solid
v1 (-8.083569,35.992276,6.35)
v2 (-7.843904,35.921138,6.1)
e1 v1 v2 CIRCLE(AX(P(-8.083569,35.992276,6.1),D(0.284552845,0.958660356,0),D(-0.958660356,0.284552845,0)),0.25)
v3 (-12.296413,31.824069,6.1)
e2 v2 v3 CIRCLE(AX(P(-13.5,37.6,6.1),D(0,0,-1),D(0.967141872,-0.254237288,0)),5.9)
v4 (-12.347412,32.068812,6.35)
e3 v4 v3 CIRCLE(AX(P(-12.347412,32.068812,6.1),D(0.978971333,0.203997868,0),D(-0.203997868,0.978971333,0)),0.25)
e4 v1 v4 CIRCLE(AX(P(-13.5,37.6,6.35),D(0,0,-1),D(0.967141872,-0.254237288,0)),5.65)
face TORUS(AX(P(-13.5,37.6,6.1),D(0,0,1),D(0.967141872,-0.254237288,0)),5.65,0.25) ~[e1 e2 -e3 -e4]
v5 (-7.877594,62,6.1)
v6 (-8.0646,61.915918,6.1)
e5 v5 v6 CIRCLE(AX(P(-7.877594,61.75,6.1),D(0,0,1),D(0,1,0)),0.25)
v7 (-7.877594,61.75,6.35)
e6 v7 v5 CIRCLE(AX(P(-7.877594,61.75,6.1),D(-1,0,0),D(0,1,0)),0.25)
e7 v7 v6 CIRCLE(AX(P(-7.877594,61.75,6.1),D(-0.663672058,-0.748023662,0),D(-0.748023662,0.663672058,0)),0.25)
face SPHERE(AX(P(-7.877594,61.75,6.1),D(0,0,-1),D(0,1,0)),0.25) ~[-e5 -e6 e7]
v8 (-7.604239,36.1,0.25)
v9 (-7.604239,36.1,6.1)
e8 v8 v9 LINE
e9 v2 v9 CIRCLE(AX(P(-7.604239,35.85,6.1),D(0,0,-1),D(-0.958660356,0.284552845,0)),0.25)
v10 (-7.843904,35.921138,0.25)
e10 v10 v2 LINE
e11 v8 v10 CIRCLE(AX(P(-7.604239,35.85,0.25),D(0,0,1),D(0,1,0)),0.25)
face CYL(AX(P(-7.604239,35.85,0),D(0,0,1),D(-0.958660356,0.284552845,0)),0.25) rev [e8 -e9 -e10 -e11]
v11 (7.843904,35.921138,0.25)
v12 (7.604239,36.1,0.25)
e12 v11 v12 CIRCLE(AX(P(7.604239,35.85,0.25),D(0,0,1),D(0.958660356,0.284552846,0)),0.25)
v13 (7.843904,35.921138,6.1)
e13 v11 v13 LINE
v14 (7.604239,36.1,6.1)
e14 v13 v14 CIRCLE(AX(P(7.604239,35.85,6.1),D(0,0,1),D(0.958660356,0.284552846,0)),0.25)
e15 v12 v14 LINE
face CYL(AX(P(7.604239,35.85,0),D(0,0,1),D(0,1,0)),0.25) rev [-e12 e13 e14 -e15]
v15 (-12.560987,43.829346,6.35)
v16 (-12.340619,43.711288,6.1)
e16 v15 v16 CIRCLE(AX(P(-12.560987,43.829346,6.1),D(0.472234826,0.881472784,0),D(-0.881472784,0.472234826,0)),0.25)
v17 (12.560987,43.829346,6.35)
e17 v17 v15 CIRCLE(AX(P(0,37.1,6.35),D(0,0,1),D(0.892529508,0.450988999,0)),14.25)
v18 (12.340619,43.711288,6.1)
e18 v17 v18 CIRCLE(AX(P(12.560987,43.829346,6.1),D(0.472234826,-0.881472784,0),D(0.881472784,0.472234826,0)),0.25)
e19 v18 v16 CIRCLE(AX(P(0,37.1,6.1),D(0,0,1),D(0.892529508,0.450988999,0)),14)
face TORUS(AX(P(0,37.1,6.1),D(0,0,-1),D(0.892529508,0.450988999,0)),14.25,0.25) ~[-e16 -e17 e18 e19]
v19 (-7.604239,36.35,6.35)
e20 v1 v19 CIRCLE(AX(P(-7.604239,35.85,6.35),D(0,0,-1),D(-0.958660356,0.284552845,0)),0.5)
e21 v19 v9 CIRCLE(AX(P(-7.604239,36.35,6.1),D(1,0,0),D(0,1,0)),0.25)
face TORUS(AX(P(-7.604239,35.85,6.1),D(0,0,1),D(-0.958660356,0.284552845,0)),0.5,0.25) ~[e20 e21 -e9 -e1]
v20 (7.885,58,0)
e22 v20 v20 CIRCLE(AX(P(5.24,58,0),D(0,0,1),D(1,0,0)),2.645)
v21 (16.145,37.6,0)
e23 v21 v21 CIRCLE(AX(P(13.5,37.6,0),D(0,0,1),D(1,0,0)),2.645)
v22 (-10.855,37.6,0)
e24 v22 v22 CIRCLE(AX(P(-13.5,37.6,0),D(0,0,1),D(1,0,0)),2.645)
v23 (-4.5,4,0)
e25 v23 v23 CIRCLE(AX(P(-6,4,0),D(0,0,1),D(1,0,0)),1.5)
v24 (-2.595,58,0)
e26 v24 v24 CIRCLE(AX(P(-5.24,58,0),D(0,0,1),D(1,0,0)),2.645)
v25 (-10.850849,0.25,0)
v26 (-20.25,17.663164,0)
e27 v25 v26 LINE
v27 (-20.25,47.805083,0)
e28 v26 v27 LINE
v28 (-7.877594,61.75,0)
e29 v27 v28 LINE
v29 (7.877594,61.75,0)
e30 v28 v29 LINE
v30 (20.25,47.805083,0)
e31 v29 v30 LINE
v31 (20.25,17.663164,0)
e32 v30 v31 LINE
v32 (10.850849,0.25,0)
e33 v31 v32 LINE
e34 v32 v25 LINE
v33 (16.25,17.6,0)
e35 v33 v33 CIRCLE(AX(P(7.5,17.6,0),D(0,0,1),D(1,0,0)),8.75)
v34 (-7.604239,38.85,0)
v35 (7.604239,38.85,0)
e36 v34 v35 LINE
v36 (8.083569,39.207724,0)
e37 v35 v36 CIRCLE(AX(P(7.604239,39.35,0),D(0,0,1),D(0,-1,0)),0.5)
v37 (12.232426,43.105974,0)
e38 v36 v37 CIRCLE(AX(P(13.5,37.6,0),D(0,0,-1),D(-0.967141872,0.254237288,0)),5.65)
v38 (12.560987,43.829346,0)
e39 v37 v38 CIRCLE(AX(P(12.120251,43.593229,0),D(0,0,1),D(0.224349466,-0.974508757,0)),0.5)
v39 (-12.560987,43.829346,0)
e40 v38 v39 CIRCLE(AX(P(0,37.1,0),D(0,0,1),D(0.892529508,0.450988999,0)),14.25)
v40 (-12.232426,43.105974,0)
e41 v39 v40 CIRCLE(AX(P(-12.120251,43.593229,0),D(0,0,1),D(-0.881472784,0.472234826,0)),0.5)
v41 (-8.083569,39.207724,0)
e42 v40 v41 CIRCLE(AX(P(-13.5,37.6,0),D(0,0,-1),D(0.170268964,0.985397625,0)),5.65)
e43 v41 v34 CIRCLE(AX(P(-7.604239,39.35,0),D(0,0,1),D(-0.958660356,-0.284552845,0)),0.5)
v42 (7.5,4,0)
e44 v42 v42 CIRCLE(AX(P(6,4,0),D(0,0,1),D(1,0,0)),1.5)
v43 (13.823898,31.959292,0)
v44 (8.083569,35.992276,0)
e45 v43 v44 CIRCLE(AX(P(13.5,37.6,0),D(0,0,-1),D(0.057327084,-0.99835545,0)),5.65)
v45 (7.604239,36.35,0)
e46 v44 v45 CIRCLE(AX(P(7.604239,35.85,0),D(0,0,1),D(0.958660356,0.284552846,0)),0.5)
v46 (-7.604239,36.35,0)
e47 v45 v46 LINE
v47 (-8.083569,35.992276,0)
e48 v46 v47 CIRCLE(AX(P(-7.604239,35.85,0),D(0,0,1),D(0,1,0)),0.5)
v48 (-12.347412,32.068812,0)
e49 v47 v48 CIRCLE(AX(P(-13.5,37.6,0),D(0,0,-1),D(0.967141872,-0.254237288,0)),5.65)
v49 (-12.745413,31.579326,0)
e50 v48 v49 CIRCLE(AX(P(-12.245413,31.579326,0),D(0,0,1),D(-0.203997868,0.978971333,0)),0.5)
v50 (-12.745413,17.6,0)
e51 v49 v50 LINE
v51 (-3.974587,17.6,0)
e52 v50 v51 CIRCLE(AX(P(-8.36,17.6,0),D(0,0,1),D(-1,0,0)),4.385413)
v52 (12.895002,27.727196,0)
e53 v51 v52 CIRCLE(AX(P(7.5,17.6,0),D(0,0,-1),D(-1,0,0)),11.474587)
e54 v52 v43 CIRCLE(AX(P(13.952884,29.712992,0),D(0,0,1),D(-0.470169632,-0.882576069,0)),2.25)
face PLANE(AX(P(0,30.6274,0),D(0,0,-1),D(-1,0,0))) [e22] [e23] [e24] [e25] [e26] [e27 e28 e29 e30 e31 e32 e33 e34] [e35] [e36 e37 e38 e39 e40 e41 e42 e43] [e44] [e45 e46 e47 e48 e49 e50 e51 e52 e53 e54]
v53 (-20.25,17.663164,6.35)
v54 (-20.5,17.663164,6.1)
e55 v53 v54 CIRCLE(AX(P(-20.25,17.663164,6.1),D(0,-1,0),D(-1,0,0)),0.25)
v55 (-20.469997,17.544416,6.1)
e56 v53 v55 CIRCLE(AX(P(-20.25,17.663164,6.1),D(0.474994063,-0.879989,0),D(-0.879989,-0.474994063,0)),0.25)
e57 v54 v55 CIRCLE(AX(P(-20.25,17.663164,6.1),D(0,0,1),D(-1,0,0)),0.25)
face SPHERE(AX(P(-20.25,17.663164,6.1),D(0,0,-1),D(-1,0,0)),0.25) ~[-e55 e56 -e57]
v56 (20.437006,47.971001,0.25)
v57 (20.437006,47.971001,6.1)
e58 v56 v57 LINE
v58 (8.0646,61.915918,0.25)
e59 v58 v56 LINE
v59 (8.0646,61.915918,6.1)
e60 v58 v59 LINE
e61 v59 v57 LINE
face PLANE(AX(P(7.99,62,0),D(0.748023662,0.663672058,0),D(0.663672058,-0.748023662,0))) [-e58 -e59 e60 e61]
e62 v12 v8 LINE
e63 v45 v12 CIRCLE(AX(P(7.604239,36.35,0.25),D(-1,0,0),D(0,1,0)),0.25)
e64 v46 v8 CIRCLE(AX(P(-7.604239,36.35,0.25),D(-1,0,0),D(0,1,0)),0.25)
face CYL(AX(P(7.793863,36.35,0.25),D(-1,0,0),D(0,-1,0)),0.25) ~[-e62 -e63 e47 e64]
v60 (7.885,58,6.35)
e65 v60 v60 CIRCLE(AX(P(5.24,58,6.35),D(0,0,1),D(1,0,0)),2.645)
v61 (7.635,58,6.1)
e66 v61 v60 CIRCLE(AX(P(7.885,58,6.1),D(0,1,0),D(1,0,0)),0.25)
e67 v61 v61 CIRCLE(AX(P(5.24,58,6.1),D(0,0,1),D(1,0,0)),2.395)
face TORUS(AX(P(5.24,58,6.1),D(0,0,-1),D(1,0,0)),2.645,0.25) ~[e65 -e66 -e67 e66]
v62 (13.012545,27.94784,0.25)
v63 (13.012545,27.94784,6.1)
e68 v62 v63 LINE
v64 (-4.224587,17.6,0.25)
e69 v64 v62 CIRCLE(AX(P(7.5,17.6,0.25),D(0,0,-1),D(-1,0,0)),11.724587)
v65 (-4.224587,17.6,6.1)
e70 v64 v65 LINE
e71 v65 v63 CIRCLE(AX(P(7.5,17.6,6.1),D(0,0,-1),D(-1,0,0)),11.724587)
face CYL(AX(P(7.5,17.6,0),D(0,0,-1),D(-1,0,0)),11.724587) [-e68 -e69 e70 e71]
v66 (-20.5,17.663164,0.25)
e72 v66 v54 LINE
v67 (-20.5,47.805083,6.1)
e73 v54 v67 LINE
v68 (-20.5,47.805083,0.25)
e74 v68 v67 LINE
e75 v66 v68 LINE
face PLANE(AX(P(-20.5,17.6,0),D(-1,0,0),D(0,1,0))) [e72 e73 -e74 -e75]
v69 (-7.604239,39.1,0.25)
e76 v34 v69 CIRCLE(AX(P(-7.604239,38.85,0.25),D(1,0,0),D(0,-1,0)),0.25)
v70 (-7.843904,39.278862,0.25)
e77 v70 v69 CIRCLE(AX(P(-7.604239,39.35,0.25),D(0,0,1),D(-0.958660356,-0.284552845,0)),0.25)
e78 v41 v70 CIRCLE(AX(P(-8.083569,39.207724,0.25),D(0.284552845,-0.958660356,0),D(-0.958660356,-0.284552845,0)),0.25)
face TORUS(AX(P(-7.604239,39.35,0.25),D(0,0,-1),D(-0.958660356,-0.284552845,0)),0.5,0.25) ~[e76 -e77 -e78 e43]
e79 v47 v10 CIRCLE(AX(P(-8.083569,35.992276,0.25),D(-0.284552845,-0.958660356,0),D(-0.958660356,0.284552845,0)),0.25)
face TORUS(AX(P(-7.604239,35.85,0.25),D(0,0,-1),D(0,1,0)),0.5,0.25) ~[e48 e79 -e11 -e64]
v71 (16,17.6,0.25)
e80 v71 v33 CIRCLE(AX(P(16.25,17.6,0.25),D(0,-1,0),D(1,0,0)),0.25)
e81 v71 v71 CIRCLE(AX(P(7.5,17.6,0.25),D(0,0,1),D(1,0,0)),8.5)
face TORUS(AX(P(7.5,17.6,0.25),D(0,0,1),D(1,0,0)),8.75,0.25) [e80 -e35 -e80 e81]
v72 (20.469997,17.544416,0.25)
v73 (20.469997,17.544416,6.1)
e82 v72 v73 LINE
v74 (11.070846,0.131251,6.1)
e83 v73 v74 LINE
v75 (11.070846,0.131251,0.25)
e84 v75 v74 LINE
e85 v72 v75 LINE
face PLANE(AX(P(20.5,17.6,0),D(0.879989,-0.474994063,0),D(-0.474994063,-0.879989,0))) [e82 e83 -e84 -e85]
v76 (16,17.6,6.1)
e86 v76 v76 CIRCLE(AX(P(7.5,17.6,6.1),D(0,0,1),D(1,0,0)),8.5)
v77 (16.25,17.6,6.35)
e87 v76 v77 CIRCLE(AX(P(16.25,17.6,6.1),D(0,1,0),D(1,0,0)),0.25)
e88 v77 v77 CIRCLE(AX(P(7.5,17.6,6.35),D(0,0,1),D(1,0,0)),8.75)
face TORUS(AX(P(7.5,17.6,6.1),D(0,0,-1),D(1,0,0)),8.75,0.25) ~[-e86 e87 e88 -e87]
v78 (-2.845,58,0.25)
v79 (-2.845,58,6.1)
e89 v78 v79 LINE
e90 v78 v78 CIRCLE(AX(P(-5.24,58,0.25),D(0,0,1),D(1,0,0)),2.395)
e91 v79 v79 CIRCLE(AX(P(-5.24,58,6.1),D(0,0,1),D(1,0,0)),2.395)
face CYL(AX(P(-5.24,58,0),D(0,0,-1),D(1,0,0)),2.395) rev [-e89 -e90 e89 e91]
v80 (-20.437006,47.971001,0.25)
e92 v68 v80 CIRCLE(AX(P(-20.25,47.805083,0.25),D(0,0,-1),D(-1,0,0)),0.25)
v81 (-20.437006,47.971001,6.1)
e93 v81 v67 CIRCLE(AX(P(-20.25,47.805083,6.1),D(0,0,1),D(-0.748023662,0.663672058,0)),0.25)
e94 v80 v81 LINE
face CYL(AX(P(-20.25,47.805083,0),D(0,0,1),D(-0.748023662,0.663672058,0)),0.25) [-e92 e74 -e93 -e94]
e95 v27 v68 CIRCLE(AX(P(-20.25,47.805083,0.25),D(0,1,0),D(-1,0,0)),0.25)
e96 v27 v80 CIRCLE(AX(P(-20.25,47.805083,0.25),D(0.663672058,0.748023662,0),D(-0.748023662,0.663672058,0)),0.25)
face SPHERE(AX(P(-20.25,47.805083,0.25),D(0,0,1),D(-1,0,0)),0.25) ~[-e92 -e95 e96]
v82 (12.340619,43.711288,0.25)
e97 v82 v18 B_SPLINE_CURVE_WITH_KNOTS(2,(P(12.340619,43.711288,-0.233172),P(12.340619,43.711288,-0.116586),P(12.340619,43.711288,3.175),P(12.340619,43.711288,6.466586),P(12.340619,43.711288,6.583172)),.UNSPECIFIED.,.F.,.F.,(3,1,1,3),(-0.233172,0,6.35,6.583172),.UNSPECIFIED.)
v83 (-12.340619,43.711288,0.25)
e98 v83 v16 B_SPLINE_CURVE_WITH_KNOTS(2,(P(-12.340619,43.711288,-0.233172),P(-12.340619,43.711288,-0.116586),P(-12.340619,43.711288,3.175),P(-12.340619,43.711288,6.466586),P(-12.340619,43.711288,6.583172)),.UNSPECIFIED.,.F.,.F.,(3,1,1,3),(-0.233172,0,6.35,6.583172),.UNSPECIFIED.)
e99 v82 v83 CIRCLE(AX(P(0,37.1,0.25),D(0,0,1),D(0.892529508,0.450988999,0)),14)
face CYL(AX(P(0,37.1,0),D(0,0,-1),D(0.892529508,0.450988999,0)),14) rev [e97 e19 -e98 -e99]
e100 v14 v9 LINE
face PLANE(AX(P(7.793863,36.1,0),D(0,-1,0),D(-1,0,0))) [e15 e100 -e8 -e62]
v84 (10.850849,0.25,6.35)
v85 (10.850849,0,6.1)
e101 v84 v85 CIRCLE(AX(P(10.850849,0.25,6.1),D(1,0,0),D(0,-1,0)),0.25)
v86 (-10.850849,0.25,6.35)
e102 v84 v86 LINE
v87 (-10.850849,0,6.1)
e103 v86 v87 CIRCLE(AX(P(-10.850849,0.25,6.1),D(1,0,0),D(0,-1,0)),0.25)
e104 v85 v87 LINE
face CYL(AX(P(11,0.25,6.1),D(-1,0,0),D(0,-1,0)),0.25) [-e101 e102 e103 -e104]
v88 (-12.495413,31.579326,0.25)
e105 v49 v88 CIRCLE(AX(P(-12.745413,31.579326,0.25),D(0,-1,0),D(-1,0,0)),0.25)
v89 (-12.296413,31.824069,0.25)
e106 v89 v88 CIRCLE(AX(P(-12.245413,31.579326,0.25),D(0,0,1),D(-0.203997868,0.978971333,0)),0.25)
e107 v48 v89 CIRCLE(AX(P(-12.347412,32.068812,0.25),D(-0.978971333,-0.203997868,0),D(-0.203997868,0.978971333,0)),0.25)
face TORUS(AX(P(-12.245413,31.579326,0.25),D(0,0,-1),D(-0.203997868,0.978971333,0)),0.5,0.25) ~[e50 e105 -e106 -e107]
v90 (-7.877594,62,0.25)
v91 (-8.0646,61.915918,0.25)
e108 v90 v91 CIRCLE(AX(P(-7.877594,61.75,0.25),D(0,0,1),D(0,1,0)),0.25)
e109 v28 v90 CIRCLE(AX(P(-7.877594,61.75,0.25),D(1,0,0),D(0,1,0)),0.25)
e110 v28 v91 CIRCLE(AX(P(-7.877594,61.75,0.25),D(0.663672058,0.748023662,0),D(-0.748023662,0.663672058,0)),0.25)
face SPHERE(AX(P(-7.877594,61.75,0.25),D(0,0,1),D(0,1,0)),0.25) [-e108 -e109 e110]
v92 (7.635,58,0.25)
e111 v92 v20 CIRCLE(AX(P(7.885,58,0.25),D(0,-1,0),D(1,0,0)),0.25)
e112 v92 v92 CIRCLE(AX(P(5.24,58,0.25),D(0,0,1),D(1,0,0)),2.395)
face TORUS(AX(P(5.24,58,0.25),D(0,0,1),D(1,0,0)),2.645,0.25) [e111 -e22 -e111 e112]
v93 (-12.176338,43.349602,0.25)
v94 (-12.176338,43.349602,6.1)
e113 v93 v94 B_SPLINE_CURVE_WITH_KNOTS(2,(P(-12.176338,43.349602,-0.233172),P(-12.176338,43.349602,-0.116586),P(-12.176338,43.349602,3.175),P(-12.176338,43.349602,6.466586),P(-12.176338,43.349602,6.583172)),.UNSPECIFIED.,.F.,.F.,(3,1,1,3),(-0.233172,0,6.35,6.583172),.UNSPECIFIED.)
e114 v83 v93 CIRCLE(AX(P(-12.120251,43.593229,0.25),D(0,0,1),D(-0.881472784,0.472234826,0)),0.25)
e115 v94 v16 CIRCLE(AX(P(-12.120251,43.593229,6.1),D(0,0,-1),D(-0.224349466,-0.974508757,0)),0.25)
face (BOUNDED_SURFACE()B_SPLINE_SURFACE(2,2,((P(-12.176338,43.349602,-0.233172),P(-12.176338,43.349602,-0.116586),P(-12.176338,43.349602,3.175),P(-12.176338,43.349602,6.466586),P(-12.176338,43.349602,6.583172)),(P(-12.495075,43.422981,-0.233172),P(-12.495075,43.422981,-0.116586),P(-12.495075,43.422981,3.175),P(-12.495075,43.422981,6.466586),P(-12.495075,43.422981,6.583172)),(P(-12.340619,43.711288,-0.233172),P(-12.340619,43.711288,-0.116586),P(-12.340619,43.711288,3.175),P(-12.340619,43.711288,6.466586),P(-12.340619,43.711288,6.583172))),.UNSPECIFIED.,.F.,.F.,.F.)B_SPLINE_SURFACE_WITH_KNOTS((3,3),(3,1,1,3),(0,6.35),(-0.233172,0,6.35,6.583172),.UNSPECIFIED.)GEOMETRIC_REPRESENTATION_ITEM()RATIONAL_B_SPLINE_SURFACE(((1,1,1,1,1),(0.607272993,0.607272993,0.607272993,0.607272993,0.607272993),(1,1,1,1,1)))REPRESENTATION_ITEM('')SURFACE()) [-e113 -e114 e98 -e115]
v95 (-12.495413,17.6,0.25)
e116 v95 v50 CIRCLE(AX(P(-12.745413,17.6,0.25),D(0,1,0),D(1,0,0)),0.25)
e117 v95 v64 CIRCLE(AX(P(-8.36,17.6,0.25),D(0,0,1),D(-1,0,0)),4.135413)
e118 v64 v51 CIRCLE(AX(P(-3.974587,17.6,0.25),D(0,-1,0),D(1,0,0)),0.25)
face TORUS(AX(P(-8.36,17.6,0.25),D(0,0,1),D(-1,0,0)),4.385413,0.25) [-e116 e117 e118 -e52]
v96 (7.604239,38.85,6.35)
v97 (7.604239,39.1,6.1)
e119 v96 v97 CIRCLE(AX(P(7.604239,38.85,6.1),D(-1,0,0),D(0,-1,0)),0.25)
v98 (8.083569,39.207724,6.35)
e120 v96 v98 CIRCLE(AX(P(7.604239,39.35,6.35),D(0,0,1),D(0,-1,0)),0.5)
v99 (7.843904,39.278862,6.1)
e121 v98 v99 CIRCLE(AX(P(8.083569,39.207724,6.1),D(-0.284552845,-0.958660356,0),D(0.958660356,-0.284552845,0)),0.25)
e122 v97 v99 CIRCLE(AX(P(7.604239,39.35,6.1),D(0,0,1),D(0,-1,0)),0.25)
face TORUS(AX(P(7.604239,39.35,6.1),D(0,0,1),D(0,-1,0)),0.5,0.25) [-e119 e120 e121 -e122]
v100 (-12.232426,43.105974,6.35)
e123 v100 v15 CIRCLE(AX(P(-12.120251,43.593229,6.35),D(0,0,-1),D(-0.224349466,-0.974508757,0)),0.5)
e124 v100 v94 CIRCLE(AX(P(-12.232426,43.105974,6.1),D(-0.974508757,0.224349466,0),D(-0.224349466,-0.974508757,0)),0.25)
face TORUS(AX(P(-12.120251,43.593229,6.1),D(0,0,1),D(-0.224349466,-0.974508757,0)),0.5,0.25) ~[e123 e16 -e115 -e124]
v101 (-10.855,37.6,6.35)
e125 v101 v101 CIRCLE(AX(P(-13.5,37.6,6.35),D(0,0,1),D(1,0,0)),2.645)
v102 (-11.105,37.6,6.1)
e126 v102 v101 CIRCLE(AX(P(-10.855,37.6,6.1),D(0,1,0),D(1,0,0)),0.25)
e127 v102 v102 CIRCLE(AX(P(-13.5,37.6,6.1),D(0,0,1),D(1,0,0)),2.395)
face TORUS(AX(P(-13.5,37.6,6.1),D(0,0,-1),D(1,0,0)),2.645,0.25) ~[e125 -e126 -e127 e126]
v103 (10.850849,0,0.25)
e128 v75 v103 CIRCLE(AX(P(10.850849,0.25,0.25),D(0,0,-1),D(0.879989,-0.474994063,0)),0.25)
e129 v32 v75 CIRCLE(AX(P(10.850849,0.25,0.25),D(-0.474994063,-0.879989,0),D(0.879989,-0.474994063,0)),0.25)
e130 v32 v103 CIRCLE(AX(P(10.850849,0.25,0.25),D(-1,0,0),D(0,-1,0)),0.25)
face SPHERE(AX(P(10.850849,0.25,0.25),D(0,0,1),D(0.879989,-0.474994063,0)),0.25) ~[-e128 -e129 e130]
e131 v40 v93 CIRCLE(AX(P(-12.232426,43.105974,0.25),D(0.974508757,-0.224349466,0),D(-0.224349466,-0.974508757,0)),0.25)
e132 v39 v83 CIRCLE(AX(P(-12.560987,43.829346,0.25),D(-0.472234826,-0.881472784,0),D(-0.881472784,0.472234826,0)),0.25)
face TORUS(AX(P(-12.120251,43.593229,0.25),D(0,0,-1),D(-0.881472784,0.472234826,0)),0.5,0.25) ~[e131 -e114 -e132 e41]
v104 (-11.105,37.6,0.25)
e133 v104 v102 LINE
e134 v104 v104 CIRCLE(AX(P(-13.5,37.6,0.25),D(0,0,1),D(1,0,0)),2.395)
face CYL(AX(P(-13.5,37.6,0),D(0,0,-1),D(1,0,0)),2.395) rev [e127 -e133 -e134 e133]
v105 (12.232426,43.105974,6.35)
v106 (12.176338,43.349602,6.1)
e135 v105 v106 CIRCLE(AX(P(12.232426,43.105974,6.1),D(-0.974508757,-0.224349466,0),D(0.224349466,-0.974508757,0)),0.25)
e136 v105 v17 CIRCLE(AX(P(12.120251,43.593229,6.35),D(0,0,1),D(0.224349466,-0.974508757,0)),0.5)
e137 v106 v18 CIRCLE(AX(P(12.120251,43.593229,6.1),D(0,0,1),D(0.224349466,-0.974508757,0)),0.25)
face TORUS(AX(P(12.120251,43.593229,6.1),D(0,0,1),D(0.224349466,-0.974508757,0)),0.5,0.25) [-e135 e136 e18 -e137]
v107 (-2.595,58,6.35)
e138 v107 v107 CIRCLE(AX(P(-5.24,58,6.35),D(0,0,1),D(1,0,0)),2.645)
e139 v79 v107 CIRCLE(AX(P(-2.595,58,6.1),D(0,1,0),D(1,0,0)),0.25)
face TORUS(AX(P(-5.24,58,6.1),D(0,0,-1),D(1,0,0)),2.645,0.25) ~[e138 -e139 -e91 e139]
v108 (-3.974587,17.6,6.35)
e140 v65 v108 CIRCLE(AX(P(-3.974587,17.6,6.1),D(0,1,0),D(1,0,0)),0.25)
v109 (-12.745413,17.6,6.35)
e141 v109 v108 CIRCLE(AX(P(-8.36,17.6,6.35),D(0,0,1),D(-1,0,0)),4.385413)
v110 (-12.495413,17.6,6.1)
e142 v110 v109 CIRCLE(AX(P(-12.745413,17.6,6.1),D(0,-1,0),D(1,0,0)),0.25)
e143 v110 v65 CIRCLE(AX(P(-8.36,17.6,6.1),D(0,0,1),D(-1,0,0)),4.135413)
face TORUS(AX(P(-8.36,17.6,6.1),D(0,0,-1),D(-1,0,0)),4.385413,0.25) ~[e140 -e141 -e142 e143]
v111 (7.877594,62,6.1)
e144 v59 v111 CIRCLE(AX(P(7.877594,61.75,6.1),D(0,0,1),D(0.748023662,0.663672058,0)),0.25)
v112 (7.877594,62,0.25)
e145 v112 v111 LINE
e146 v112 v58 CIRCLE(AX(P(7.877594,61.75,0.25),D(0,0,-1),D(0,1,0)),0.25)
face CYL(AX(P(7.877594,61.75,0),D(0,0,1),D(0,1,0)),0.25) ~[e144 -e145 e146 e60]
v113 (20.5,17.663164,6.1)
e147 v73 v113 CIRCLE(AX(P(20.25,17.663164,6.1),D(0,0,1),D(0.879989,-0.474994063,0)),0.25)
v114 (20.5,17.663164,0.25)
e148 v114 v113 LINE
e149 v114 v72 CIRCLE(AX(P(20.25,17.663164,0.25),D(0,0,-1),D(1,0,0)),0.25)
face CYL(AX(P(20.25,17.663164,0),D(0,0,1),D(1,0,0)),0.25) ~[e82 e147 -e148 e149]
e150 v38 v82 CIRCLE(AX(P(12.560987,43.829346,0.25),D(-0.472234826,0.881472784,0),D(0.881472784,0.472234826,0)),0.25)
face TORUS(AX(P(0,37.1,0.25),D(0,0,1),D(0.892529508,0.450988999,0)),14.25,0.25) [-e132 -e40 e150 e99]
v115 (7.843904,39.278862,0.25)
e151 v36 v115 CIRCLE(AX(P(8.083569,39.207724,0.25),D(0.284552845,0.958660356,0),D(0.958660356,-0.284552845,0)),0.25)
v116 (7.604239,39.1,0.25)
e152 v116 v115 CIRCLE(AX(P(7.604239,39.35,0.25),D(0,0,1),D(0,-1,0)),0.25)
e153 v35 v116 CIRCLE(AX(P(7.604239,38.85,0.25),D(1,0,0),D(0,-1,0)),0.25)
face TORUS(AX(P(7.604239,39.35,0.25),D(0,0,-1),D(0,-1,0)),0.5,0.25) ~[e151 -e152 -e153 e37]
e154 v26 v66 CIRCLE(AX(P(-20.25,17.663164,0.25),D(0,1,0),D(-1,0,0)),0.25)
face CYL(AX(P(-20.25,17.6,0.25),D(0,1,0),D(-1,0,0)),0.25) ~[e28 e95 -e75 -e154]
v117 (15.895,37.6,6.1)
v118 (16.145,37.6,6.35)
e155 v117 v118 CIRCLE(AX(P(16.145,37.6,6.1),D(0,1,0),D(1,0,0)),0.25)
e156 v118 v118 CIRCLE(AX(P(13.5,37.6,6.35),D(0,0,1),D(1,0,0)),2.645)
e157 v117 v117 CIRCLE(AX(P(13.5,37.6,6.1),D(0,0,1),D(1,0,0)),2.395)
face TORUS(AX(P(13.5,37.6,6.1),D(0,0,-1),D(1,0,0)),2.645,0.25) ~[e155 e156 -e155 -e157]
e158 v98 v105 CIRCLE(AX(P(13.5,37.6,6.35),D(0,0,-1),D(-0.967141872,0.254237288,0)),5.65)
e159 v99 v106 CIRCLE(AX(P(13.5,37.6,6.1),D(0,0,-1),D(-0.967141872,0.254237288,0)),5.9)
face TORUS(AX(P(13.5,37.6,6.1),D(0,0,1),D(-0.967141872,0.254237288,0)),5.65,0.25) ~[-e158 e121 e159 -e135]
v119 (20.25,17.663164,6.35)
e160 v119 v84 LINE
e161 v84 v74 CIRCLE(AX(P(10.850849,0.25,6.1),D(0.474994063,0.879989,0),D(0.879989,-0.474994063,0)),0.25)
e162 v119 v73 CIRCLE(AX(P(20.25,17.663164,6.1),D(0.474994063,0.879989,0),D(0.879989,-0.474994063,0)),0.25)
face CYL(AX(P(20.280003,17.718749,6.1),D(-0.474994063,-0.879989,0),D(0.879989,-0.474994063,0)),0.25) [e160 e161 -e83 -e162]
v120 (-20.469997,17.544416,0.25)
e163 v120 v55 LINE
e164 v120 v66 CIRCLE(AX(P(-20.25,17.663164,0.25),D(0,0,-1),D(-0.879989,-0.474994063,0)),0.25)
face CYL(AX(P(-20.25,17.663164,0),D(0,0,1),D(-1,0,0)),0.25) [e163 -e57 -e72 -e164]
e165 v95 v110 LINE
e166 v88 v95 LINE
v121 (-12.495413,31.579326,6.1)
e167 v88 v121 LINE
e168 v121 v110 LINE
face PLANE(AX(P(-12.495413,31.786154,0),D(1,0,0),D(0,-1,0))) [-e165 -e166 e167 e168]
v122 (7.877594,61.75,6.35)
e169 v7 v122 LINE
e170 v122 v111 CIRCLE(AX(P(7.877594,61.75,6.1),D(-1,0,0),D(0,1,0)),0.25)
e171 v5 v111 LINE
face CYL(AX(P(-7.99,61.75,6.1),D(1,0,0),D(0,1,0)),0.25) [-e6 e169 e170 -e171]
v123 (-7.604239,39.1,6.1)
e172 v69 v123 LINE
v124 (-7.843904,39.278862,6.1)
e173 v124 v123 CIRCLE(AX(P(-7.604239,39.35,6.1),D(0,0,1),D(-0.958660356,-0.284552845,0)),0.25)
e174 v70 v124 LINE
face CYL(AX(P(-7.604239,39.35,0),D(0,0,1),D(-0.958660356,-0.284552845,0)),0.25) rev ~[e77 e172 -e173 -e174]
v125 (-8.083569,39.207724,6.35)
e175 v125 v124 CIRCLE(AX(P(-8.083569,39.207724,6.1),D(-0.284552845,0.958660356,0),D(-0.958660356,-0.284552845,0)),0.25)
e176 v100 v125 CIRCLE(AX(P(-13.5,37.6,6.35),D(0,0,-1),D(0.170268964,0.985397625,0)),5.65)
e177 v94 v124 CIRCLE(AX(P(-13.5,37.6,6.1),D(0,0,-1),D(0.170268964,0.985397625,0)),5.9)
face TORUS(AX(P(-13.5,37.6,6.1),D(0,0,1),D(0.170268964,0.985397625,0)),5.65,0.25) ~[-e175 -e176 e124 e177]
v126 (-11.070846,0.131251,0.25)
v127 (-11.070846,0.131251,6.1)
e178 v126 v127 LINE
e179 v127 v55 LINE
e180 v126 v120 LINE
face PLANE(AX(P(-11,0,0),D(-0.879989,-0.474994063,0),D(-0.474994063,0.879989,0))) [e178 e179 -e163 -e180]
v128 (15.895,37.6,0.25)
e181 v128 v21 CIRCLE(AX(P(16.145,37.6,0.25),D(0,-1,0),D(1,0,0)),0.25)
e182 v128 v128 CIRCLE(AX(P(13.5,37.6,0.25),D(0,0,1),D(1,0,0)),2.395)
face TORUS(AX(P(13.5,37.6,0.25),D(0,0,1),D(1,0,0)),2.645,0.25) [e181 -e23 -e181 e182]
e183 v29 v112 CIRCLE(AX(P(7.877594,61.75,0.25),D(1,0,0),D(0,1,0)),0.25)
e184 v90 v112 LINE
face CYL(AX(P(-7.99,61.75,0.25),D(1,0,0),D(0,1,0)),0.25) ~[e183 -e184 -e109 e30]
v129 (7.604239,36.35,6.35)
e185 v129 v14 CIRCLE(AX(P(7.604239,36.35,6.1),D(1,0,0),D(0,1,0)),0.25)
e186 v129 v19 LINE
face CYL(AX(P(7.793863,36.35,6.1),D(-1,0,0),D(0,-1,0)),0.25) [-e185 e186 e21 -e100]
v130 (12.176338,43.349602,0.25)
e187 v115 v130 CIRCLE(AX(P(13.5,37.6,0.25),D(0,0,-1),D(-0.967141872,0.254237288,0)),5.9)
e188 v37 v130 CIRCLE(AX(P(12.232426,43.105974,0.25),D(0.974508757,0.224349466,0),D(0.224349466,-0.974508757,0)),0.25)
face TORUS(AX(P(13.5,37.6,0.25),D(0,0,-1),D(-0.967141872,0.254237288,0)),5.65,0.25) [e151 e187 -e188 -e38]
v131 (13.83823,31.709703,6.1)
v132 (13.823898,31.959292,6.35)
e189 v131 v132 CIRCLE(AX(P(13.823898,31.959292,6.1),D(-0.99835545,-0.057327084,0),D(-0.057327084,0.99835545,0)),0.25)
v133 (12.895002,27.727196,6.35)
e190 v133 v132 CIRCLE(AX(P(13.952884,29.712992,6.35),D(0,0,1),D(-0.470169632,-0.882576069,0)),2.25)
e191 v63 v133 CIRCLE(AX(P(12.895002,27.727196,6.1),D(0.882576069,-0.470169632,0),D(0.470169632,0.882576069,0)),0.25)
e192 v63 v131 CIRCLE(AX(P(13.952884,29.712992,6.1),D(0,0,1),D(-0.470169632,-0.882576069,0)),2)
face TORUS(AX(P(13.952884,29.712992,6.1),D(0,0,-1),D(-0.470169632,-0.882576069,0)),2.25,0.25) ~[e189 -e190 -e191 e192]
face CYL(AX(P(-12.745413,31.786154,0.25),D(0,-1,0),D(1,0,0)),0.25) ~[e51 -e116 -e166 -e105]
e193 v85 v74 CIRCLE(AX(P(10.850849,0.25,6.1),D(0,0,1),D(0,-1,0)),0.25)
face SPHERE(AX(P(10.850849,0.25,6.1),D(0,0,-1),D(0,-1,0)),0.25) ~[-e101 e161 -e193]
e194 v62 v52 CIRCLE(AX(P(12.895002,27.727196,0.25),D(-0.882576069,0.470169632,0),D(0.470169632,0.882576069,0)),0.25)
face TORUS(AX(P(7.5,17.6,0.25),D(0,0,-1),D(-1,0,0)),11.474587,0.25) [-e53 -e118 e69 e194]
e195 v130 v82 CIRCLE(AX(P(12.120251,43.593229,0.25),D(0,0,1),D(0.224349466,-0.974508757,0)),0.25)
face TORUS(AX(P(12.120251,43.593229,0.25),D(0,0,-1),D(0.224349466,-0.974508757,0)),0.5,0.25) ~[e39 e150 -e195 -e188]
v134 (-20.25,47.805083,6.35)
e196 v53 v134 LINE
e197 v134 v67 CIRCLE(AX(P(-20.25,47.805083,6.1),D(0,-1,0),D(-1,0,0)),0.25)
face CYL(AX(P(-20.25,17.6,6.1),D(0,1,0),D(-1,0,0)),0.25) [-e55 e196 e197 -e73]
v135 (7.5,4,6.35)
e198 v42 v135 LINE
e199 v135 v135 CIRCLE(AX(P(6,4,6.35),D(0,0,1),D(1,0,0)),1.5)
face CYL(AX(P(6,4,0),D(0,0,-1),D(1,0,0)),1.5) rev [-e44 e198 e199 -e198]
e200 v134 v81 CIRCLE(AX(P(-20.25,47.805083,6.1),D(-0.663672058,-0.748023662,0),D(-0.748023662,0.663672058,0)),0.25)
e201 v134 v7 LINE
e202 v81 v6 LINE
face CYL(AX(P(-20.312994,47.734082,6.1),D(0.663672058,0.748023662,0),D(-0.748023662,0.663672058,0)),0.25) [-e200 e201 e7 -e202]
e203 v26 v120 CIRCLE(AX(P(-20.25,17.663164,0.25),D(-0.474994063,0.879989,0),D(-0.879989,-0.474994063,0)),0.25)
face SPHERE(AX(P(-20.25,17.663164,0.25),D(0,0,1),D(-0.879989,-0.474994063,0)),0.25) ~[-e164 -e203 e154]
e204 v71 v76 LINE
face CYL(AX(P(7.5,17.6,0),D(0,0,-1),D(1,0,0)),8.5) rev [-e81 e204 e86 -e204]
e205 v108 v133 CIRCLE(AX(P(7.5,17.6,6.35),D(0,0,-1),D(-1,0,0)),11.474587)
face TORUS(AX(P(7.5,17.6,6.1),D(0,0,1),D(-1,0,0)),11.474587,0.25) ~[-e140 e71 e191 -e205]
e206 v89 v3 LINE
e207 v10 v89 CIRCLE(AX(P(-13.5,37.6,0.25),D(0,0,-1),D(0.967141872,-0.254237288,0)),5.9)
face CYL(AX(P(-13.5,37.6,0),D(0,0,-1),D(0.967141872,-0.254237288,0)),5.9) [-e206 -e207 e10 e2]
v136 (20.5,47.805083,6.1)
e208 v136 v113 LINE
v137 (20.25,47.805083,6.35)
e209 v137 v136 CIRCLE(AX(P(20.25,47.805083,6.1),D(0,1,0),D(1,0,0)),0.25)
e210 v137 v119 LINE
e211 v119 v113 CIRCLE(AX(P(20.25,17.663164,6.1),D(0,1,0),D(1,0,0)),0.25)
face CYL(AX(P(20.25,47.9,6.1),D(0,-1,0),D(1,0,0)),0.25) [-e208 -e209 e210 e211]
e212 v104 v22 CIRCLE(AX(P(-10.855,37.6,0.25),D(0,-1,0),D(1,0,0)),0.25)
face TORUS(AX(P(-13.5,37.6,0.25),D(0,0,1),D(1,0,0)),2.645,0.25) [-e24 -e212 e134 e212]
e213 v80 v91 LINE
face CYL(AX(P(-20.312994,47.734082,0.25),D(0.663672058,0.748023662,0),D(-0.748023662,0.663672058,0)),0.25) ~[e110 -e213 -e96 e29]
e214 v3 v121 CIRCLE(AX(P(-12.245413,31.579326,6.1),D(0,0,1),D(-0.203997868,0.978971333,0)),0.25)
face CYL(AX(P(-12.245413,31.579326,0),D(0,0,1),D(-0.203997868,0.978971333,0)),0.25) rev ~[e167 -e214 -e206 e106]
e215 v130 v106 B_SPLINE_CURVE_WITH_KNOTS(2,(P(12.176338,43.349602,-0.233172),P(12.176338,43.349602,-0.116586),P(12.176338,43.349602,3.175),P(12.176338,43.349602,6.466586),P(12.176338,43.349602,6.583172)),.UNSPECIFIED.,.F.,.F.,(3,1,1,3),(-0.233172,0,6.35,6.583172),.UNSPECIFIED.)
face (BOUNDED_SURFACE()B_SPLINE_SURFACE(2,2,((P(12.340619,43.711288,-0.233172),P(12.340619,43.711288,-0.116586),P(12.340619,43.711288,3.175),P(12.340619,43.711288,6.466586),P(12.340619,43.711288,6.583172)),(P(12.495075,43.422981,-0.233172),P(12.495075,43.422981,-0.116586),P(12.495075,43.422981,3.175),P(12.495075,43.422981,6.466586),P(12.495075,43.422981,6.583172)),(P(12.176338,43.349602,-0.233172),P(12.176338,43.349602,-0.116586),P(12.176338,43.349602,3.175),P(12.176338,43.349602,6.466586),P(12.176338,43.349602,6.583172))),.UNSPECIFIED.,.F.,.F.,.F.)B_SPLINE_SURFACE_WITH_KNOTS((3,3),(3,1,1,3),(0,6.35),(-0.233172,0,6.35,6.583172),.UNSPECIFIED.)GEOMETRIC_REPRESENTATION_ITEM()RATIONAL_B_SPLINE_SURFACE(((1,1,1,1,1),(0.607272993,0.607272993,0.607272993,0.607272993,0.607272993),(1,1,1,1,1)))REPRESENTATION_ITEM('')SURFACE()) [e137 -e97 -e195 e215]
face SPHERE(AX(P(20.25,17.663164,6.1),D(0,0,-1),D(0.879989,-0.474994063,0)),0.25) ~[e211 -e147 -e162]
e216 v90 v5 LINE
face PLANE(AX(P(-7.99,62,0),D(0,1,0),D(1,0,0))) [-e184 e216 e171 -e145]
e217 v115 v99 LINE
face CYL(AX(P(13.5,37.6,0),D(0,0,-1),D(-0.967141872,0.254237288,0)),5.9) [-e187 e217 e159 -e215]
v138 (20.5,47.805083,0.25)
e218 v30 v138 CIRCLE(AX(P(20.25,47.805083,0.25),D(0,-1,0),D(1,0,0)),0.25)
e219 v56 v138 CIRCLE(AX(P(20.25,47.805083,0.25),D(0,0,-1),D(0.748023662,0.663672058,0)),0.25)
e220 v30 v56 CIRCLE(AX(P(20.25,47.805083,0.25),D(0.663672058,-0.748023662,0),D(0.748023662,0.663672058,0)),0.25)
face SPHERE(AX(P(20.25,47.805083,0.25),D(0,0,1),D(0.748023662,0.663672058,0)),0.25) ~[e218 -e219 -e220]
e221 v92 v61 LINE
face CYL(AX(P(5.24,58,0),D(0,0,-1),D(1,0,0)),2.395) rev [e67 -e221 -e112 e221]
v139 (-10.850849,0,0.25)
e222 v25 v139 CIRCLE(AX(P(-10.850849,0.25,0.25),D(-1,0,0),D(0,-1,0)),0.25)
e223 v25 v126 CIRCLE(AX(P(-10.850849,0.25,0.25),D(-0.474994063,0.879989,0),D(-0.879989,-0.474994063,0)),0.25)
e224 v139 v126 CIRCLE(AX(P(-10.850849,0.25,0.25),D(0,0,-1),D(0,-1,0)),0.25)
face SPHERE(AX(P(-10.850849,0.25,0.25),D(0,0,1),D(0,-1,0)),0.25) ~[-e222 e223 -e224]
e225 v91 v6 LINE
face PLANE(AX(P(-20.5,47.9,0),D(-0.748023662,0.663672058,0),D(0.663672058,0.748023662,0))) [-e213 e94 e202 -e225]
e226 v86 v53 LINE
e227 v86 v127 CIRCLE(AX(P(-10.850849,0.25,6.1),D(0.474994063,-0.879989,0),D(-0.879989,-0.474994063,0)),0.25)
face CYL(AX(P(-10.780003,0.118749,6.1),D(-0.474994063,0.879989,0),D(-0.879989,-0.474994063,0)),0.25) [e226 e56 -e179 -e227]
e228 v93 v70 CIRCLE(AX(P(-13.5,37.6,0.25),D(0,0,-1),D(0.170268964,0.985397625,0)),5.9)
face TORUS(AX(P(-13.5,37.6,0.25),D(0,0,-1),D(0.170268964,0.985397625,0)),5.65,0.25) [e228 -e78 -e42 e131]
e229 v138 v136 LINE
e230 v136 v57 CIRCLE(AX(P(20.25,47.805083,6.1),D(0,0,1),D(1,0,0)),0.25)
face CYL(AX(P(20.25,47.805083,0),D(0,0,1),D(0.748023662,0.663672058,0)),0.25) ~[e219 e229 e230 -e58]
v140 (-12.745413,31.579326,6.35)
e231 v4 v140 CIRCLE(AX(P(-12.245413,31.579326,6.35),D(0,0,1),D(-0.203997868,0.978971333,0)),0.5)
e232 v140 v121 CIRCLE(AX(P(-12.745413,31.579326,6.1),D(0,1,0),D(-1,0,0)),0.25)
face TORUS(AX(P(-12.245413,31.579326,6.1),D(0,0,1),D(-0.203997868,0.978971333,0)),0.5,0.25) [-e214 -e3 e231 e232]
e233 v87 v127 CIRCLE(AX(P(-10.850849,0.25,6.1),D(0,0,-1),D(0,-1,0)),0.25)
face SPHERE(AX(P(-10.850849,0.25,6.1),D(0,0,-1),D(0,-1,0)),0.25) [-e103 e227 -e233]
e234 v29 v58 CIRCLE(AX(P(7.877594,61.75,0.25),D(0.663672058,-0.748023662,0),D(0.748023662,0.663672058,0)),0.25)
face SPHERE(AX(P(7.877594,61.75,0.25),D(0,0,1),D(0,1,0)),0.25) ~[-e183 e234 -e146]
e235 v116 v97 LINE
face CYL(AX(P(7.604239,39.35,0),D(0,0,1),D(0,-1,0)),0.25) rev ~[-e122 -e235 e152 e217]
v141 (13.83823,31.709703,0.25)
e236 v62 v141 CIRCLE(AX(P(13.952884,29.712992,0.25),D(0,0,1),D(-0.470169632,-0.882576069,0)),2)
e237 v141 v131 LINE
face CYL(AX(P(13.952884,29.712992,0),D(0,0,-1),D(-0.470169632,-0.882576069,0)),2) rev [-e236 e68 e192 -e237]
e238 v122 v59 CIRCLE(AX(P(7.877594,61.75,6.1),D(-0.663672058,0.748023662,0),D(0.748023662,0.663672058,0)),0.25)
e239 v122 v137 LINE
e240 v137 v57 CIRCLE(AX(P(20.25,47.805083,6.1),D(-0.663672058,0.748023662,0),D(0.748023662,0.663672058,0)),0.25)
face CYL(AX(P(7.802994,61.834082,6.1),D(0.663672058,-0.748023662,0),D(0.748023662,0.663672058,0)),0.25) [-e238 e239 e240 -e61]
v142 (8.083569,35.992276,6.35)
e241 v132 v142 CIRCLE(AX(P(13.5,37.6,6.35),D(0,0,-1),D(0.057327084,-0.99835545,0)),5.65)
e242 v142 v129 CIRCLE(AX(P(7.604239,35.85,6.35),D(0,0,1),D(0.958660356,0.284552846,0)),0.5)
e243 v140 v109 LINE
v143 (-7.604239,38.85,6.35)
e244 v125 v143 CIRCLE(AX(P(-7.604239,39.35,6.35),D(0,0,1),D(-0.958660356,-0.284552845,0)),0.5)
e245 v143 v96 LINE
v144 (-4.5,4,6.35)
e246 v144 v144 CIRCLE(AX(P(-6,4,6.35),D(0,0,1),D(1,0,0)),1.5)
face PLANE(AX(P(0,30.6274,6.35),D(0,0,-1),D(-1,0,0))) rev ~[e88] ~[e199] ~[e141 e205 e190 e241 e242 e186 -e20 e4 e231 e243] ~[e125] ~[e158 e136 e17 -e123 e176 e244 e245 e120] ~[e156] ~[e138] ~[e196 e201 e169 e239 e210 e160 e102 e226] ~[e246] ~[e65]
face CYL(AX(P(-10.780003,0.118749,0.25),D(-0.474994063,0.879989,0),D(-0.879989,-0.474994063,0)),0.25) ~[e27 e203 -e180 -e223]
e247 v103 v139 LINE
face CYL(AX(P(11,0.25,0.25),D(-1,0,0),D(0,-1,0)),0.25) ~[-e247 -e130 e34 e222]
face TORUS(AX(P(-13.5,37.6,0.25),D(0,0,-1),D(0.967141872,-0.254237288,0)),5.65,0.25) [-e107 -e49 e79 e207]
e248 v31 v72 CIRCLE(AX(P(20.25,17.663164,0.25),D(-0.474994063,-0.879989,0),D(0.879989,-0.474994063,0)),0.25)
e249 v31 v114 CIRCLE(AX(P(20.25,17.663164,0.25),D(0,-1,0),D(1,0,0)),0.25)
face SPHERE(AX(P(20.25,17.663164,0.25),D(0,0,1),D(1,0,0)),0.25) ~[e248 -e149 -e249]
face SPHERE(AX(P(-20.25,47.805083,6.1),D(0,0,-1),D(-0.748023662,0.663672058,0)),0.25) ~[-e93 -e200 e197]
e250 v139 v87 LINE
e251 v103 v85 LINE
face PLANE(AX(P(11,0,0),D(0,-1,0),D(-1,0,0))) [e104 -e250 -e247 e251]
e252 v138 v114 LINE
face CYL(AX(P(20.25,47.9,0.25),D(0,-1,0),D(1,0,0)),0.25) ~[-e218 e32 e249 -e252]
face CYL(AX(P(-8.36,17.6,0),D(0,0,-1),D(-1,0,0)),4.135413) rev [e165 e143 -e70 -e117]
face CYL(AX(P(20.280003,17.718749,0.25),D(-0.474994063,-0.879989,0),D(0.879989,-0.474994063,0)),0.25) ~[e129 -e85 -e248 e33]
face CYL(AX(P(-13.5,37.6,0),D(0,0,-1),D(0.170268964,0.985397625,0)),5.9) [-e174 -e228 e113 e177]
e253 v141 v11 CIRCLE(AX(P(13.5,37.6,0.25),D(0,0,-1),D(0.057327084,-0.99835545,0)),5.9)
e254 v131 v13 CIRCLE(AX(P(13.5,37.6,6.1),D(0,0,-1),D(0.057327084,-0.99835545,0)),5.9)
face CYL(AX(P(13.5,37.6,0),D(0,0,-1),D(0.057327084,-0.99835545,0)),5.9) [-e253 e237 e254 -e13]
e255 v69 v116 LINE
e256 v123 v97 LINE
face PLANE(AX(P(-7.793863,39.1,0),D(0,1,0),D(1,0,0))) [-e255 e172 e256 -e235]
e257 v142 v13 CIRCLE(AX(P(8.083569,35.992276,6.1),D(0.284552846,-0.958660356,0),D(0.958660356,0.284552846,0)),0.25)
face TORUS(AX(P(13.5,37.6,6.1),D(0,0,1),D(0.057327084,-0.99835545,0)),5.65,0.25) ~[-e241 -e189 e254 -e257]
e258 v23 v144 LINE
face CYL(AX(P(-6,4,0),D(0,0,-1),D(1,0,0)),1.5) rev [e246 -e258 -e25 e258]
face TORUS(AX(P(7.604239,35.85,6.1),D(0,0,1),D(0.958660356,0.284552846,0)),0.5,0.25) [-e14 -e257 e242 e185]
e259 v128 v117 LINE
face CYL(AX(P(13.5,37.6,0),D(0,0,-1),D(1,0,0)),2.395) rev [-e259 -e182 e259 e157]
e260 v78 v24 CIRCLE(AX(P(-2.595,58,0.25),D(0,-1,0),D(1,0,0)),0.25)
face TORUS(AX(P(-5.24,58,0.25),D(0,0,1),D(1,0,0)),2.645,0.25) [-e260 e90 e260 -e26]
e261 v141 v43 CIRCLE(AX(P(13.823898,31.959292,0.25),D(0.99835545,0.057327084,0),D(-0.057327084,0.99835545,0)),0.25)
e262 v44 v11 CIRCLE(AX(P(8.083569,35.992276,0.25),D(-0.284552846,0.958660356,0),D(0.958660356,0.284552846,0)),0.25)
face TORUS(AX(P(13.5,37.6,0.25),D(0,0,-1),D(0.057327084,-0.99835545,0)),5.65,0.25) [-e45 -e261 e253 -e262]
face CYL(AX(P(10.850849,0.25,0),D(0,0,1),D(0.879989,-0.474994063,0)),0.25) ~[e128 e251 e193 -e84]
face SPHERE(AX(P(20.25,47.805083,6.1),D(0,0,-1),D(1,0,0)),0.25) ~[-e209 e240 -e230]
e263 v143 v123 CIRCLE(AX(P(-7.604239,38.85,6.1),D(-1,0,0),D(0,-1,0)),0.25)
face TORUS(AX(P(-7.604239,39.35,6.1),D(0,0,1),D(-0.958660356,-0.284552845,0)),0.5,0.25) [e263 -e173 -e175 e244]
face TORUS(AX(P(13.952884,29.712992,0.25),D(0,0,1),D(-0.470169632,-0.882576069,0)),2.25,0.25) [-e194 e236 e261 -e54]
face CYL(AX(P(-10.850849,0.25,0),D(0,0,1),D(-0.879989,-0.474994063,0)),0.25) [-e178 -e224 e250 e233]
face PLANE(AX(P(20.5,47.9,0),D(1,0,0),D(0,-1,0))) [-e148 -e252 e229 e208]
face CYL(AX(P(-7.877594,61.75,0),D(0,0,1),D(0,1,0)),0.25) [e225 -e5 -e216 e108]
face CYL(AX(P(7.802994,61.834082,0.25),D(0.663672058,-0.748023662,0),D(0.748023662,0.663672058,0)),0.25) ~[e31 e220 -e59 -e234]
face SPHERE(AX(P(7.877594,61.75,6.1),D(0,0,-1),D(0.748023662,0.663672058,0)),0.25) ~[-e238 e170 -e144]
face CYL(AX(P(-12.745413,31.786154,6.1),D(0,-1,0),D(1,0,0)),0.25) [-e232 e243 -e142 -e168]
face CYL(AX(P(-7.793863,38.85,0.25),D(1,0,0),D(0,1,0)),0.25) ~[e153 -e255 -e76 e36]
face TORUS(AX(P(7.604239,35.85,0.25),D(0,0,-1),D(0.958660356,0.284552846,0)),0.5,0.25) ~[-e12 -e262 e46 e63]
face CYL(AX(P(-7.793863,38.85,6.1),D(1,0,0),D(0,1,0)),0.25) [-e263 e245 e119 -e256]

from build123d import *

# Parameters (mm, degrees)
ESBO_O1_R                = 2.395
ESBO_O1_R_2              = 1.5
ESBO_O1_R_3              = 8.5
RESSALTO_EXTRUS_O1_DEPTH = 6.35
FILETE1_R                = 0.25


with BuildPart() as part:
    # Esboço1 → Ressalto-extrusão1 (new body)
    with BuildSketch(Plane.XY):
        Polygon((-7.99, 62), (7.99, 62), (20.5, 47.9), (20.5, 17.6), (11, 0), (-11, 0), (-20.5, 17.6), (-20.5, 47.9), align=None)
        with Locations((5.24, 58)):
            Circle(ESBO_O1_R, mode=Mode.SUBTRACT)
        with Locations((-5.24, 58)):
            Circle(ESBO_O1_R, mode=Mode.SUBTRACT)
        with Locations((6, 4)):
            Circle(ESBO_O1_R_2, mode=Mode.SUBTRACT)
        with Locations((-6, 4)):
            Circle(ESBO_O1_R_2, mode=Mode.SUBTRACT)
        with Locations((7.5, 17.6)):
            Circle(ESBO_O1_R_3, mode=Mode.SUBTRACT)
        with Locations((13.5, 37.6)):
            Circle(ESBO_O1_R, mode=Mode.SUBTRACT)
        with Locations((-13.5, 37.6)):
            Circle(ESBO_O1_R, mode=Mode.SUBTRACT)
        with BuildLine():
            Line((-7.793862953, 39.1), (7.793862953, 39.1))
            ThreePointArc((7.793862953, 39.1), (9.511169252, 41.94732438), (12.495413112, 43.413845989))
            ThreePointArc((12.495413112, 43.413845989), (0, 51.1), (-12.495413112, 43.413845989))
            ThreePointArc((-12.495413112, 43.413845989), (-9.511169252, 41.94732438), (-7.793862953, 39.1))
        make_face(mode=Mode.SUBTRACT)
        with BuildLine():
            Line((-12.495413112, 31.786154011), (-12.495413112, 17.6))
            ThreePointArc((-12.495413112, 17.6), (-8.36, 13.464586888), (-4.224586888, 17.6))
            ThreePointArc((-4.224586888, 17.6), (1.465365447, 27.652319311), (13.012544702, 27.947839804))
            ThreePointArc((13.012544702, 27.947839804), (15.906382409, 29.2842218), (13.838229798, 31.709702842))
            ThreePointArc((13.838229798, 31.709702842), (10.032683409, 32.826351955), (7.793862953, 36.1))
            Line((7.793862953, 36.1), (-7.793862953, 36.1))
            ThreePointArc((-7.793862953, 36.1), (-9.511169252, 33.25267562), (-12.495413112, 31.786154011))
        make_face(mode=Mode.SUBTRACT)
    extrude(amount=RESSALTO_EXTRUS_O1_DEPTH)

    # Filete1
    filete1_edges = [part.edges().sort_by_distance(p)[0] for p in [
        (0, 0, 0),
        (-15.75, 8.8, 0),
        (-20.5, 32.75, 0),
        (-14.245, 54.95, 0),
        (-15.75, 8.8, 6.35),
        (-7.99, 62, 3.175),
        (7.99, 62, 3.175),
        (20.5, 47.9, 3.175),
        (20.5, 17.6, 3.175),
        (11, 0, 3.175),
        (-11, 0, 3.175),
        (-20.5, 17.6, 3.175),
        (-20.5, 47.9, 3.175),
        (0, 0, 6.35),
        (15.75, 8.8, 6.35),
        (-7.635, 58, 0),
        (-7.635, 58, 6.35),
        (20.5, 32.75, 6.35),
        (2.845, 58, 0),
        (2.845, 58, 6.35),
        (14.245, 54.95, 6.35),
        (0, 62, 6.35),
        (-1, 17.6, 0),
        (-1, 17.6, 6.35),
        (11.105, 37.6, 0),
        (11.105, 37.6, 6.35),
        (-15.895, 37.6, 0),
        (-15.895, 37.6, 6.35),
        (-14.245, 54.95, 6.35),
        (-9.511169252, 41.94732438, 0),
        (-12.495413112, 43.413845989, 3.175),
        (0, 39.1, 0),
        (-7.793862953, 39.1, 3.175),
        (9.511169252, 41.94732438, 0),
        (7.793862953, 39.1, 3.175),
        (0, 51.1, 0),
        (12.495413112, 43.413845989, 3.175),
        (-9.511169252, 41.94732438, 6.35),
        (0, 39.1, 6.35),
        (9.511169252, 41.94732438, 6.35),
        (0, 51.1, 6.35),
        (-9.511169252, 33.25267562, 0),
        (-7.793862953, 36.1, 3.175),
        (-12.495413112, 24.693077006, 0),
        (-12.495413112, 31.786154011, 3.175),
        (-8.36, 13.464586888, 0),
        (1.465365447, 27.652319311, 0),
        (15.906382409, 29.2842218, 0),
        (10.032683409, 32.826351955, 0),
        (0, 36.1, 0),
        (7.793862953, 36.1, 3.175),
        (-9.511169252, 33.25267562, 6.35),
        (-12.495413112, 24.693077006, 6.35),
        (-8.36, 13.464586888, 6.35),
        (1.465365447, 27.652319311, 6.35),
        (15.906382409, 29.2842218, 6.35),
        (10.032683409, 32.826351955, 6.35),
        (0, 36.1, 6.35),
        (0, 62, 0),
        (-20.5, 32.75, 6.35),
        (14.245, 54.95, 0),
        (20.5, 32.75, 0),
        (15.75, 8.8, 0),
    ]]
    fillet(filete1_edges, radius=FILETE1_R)


solid = part.part
